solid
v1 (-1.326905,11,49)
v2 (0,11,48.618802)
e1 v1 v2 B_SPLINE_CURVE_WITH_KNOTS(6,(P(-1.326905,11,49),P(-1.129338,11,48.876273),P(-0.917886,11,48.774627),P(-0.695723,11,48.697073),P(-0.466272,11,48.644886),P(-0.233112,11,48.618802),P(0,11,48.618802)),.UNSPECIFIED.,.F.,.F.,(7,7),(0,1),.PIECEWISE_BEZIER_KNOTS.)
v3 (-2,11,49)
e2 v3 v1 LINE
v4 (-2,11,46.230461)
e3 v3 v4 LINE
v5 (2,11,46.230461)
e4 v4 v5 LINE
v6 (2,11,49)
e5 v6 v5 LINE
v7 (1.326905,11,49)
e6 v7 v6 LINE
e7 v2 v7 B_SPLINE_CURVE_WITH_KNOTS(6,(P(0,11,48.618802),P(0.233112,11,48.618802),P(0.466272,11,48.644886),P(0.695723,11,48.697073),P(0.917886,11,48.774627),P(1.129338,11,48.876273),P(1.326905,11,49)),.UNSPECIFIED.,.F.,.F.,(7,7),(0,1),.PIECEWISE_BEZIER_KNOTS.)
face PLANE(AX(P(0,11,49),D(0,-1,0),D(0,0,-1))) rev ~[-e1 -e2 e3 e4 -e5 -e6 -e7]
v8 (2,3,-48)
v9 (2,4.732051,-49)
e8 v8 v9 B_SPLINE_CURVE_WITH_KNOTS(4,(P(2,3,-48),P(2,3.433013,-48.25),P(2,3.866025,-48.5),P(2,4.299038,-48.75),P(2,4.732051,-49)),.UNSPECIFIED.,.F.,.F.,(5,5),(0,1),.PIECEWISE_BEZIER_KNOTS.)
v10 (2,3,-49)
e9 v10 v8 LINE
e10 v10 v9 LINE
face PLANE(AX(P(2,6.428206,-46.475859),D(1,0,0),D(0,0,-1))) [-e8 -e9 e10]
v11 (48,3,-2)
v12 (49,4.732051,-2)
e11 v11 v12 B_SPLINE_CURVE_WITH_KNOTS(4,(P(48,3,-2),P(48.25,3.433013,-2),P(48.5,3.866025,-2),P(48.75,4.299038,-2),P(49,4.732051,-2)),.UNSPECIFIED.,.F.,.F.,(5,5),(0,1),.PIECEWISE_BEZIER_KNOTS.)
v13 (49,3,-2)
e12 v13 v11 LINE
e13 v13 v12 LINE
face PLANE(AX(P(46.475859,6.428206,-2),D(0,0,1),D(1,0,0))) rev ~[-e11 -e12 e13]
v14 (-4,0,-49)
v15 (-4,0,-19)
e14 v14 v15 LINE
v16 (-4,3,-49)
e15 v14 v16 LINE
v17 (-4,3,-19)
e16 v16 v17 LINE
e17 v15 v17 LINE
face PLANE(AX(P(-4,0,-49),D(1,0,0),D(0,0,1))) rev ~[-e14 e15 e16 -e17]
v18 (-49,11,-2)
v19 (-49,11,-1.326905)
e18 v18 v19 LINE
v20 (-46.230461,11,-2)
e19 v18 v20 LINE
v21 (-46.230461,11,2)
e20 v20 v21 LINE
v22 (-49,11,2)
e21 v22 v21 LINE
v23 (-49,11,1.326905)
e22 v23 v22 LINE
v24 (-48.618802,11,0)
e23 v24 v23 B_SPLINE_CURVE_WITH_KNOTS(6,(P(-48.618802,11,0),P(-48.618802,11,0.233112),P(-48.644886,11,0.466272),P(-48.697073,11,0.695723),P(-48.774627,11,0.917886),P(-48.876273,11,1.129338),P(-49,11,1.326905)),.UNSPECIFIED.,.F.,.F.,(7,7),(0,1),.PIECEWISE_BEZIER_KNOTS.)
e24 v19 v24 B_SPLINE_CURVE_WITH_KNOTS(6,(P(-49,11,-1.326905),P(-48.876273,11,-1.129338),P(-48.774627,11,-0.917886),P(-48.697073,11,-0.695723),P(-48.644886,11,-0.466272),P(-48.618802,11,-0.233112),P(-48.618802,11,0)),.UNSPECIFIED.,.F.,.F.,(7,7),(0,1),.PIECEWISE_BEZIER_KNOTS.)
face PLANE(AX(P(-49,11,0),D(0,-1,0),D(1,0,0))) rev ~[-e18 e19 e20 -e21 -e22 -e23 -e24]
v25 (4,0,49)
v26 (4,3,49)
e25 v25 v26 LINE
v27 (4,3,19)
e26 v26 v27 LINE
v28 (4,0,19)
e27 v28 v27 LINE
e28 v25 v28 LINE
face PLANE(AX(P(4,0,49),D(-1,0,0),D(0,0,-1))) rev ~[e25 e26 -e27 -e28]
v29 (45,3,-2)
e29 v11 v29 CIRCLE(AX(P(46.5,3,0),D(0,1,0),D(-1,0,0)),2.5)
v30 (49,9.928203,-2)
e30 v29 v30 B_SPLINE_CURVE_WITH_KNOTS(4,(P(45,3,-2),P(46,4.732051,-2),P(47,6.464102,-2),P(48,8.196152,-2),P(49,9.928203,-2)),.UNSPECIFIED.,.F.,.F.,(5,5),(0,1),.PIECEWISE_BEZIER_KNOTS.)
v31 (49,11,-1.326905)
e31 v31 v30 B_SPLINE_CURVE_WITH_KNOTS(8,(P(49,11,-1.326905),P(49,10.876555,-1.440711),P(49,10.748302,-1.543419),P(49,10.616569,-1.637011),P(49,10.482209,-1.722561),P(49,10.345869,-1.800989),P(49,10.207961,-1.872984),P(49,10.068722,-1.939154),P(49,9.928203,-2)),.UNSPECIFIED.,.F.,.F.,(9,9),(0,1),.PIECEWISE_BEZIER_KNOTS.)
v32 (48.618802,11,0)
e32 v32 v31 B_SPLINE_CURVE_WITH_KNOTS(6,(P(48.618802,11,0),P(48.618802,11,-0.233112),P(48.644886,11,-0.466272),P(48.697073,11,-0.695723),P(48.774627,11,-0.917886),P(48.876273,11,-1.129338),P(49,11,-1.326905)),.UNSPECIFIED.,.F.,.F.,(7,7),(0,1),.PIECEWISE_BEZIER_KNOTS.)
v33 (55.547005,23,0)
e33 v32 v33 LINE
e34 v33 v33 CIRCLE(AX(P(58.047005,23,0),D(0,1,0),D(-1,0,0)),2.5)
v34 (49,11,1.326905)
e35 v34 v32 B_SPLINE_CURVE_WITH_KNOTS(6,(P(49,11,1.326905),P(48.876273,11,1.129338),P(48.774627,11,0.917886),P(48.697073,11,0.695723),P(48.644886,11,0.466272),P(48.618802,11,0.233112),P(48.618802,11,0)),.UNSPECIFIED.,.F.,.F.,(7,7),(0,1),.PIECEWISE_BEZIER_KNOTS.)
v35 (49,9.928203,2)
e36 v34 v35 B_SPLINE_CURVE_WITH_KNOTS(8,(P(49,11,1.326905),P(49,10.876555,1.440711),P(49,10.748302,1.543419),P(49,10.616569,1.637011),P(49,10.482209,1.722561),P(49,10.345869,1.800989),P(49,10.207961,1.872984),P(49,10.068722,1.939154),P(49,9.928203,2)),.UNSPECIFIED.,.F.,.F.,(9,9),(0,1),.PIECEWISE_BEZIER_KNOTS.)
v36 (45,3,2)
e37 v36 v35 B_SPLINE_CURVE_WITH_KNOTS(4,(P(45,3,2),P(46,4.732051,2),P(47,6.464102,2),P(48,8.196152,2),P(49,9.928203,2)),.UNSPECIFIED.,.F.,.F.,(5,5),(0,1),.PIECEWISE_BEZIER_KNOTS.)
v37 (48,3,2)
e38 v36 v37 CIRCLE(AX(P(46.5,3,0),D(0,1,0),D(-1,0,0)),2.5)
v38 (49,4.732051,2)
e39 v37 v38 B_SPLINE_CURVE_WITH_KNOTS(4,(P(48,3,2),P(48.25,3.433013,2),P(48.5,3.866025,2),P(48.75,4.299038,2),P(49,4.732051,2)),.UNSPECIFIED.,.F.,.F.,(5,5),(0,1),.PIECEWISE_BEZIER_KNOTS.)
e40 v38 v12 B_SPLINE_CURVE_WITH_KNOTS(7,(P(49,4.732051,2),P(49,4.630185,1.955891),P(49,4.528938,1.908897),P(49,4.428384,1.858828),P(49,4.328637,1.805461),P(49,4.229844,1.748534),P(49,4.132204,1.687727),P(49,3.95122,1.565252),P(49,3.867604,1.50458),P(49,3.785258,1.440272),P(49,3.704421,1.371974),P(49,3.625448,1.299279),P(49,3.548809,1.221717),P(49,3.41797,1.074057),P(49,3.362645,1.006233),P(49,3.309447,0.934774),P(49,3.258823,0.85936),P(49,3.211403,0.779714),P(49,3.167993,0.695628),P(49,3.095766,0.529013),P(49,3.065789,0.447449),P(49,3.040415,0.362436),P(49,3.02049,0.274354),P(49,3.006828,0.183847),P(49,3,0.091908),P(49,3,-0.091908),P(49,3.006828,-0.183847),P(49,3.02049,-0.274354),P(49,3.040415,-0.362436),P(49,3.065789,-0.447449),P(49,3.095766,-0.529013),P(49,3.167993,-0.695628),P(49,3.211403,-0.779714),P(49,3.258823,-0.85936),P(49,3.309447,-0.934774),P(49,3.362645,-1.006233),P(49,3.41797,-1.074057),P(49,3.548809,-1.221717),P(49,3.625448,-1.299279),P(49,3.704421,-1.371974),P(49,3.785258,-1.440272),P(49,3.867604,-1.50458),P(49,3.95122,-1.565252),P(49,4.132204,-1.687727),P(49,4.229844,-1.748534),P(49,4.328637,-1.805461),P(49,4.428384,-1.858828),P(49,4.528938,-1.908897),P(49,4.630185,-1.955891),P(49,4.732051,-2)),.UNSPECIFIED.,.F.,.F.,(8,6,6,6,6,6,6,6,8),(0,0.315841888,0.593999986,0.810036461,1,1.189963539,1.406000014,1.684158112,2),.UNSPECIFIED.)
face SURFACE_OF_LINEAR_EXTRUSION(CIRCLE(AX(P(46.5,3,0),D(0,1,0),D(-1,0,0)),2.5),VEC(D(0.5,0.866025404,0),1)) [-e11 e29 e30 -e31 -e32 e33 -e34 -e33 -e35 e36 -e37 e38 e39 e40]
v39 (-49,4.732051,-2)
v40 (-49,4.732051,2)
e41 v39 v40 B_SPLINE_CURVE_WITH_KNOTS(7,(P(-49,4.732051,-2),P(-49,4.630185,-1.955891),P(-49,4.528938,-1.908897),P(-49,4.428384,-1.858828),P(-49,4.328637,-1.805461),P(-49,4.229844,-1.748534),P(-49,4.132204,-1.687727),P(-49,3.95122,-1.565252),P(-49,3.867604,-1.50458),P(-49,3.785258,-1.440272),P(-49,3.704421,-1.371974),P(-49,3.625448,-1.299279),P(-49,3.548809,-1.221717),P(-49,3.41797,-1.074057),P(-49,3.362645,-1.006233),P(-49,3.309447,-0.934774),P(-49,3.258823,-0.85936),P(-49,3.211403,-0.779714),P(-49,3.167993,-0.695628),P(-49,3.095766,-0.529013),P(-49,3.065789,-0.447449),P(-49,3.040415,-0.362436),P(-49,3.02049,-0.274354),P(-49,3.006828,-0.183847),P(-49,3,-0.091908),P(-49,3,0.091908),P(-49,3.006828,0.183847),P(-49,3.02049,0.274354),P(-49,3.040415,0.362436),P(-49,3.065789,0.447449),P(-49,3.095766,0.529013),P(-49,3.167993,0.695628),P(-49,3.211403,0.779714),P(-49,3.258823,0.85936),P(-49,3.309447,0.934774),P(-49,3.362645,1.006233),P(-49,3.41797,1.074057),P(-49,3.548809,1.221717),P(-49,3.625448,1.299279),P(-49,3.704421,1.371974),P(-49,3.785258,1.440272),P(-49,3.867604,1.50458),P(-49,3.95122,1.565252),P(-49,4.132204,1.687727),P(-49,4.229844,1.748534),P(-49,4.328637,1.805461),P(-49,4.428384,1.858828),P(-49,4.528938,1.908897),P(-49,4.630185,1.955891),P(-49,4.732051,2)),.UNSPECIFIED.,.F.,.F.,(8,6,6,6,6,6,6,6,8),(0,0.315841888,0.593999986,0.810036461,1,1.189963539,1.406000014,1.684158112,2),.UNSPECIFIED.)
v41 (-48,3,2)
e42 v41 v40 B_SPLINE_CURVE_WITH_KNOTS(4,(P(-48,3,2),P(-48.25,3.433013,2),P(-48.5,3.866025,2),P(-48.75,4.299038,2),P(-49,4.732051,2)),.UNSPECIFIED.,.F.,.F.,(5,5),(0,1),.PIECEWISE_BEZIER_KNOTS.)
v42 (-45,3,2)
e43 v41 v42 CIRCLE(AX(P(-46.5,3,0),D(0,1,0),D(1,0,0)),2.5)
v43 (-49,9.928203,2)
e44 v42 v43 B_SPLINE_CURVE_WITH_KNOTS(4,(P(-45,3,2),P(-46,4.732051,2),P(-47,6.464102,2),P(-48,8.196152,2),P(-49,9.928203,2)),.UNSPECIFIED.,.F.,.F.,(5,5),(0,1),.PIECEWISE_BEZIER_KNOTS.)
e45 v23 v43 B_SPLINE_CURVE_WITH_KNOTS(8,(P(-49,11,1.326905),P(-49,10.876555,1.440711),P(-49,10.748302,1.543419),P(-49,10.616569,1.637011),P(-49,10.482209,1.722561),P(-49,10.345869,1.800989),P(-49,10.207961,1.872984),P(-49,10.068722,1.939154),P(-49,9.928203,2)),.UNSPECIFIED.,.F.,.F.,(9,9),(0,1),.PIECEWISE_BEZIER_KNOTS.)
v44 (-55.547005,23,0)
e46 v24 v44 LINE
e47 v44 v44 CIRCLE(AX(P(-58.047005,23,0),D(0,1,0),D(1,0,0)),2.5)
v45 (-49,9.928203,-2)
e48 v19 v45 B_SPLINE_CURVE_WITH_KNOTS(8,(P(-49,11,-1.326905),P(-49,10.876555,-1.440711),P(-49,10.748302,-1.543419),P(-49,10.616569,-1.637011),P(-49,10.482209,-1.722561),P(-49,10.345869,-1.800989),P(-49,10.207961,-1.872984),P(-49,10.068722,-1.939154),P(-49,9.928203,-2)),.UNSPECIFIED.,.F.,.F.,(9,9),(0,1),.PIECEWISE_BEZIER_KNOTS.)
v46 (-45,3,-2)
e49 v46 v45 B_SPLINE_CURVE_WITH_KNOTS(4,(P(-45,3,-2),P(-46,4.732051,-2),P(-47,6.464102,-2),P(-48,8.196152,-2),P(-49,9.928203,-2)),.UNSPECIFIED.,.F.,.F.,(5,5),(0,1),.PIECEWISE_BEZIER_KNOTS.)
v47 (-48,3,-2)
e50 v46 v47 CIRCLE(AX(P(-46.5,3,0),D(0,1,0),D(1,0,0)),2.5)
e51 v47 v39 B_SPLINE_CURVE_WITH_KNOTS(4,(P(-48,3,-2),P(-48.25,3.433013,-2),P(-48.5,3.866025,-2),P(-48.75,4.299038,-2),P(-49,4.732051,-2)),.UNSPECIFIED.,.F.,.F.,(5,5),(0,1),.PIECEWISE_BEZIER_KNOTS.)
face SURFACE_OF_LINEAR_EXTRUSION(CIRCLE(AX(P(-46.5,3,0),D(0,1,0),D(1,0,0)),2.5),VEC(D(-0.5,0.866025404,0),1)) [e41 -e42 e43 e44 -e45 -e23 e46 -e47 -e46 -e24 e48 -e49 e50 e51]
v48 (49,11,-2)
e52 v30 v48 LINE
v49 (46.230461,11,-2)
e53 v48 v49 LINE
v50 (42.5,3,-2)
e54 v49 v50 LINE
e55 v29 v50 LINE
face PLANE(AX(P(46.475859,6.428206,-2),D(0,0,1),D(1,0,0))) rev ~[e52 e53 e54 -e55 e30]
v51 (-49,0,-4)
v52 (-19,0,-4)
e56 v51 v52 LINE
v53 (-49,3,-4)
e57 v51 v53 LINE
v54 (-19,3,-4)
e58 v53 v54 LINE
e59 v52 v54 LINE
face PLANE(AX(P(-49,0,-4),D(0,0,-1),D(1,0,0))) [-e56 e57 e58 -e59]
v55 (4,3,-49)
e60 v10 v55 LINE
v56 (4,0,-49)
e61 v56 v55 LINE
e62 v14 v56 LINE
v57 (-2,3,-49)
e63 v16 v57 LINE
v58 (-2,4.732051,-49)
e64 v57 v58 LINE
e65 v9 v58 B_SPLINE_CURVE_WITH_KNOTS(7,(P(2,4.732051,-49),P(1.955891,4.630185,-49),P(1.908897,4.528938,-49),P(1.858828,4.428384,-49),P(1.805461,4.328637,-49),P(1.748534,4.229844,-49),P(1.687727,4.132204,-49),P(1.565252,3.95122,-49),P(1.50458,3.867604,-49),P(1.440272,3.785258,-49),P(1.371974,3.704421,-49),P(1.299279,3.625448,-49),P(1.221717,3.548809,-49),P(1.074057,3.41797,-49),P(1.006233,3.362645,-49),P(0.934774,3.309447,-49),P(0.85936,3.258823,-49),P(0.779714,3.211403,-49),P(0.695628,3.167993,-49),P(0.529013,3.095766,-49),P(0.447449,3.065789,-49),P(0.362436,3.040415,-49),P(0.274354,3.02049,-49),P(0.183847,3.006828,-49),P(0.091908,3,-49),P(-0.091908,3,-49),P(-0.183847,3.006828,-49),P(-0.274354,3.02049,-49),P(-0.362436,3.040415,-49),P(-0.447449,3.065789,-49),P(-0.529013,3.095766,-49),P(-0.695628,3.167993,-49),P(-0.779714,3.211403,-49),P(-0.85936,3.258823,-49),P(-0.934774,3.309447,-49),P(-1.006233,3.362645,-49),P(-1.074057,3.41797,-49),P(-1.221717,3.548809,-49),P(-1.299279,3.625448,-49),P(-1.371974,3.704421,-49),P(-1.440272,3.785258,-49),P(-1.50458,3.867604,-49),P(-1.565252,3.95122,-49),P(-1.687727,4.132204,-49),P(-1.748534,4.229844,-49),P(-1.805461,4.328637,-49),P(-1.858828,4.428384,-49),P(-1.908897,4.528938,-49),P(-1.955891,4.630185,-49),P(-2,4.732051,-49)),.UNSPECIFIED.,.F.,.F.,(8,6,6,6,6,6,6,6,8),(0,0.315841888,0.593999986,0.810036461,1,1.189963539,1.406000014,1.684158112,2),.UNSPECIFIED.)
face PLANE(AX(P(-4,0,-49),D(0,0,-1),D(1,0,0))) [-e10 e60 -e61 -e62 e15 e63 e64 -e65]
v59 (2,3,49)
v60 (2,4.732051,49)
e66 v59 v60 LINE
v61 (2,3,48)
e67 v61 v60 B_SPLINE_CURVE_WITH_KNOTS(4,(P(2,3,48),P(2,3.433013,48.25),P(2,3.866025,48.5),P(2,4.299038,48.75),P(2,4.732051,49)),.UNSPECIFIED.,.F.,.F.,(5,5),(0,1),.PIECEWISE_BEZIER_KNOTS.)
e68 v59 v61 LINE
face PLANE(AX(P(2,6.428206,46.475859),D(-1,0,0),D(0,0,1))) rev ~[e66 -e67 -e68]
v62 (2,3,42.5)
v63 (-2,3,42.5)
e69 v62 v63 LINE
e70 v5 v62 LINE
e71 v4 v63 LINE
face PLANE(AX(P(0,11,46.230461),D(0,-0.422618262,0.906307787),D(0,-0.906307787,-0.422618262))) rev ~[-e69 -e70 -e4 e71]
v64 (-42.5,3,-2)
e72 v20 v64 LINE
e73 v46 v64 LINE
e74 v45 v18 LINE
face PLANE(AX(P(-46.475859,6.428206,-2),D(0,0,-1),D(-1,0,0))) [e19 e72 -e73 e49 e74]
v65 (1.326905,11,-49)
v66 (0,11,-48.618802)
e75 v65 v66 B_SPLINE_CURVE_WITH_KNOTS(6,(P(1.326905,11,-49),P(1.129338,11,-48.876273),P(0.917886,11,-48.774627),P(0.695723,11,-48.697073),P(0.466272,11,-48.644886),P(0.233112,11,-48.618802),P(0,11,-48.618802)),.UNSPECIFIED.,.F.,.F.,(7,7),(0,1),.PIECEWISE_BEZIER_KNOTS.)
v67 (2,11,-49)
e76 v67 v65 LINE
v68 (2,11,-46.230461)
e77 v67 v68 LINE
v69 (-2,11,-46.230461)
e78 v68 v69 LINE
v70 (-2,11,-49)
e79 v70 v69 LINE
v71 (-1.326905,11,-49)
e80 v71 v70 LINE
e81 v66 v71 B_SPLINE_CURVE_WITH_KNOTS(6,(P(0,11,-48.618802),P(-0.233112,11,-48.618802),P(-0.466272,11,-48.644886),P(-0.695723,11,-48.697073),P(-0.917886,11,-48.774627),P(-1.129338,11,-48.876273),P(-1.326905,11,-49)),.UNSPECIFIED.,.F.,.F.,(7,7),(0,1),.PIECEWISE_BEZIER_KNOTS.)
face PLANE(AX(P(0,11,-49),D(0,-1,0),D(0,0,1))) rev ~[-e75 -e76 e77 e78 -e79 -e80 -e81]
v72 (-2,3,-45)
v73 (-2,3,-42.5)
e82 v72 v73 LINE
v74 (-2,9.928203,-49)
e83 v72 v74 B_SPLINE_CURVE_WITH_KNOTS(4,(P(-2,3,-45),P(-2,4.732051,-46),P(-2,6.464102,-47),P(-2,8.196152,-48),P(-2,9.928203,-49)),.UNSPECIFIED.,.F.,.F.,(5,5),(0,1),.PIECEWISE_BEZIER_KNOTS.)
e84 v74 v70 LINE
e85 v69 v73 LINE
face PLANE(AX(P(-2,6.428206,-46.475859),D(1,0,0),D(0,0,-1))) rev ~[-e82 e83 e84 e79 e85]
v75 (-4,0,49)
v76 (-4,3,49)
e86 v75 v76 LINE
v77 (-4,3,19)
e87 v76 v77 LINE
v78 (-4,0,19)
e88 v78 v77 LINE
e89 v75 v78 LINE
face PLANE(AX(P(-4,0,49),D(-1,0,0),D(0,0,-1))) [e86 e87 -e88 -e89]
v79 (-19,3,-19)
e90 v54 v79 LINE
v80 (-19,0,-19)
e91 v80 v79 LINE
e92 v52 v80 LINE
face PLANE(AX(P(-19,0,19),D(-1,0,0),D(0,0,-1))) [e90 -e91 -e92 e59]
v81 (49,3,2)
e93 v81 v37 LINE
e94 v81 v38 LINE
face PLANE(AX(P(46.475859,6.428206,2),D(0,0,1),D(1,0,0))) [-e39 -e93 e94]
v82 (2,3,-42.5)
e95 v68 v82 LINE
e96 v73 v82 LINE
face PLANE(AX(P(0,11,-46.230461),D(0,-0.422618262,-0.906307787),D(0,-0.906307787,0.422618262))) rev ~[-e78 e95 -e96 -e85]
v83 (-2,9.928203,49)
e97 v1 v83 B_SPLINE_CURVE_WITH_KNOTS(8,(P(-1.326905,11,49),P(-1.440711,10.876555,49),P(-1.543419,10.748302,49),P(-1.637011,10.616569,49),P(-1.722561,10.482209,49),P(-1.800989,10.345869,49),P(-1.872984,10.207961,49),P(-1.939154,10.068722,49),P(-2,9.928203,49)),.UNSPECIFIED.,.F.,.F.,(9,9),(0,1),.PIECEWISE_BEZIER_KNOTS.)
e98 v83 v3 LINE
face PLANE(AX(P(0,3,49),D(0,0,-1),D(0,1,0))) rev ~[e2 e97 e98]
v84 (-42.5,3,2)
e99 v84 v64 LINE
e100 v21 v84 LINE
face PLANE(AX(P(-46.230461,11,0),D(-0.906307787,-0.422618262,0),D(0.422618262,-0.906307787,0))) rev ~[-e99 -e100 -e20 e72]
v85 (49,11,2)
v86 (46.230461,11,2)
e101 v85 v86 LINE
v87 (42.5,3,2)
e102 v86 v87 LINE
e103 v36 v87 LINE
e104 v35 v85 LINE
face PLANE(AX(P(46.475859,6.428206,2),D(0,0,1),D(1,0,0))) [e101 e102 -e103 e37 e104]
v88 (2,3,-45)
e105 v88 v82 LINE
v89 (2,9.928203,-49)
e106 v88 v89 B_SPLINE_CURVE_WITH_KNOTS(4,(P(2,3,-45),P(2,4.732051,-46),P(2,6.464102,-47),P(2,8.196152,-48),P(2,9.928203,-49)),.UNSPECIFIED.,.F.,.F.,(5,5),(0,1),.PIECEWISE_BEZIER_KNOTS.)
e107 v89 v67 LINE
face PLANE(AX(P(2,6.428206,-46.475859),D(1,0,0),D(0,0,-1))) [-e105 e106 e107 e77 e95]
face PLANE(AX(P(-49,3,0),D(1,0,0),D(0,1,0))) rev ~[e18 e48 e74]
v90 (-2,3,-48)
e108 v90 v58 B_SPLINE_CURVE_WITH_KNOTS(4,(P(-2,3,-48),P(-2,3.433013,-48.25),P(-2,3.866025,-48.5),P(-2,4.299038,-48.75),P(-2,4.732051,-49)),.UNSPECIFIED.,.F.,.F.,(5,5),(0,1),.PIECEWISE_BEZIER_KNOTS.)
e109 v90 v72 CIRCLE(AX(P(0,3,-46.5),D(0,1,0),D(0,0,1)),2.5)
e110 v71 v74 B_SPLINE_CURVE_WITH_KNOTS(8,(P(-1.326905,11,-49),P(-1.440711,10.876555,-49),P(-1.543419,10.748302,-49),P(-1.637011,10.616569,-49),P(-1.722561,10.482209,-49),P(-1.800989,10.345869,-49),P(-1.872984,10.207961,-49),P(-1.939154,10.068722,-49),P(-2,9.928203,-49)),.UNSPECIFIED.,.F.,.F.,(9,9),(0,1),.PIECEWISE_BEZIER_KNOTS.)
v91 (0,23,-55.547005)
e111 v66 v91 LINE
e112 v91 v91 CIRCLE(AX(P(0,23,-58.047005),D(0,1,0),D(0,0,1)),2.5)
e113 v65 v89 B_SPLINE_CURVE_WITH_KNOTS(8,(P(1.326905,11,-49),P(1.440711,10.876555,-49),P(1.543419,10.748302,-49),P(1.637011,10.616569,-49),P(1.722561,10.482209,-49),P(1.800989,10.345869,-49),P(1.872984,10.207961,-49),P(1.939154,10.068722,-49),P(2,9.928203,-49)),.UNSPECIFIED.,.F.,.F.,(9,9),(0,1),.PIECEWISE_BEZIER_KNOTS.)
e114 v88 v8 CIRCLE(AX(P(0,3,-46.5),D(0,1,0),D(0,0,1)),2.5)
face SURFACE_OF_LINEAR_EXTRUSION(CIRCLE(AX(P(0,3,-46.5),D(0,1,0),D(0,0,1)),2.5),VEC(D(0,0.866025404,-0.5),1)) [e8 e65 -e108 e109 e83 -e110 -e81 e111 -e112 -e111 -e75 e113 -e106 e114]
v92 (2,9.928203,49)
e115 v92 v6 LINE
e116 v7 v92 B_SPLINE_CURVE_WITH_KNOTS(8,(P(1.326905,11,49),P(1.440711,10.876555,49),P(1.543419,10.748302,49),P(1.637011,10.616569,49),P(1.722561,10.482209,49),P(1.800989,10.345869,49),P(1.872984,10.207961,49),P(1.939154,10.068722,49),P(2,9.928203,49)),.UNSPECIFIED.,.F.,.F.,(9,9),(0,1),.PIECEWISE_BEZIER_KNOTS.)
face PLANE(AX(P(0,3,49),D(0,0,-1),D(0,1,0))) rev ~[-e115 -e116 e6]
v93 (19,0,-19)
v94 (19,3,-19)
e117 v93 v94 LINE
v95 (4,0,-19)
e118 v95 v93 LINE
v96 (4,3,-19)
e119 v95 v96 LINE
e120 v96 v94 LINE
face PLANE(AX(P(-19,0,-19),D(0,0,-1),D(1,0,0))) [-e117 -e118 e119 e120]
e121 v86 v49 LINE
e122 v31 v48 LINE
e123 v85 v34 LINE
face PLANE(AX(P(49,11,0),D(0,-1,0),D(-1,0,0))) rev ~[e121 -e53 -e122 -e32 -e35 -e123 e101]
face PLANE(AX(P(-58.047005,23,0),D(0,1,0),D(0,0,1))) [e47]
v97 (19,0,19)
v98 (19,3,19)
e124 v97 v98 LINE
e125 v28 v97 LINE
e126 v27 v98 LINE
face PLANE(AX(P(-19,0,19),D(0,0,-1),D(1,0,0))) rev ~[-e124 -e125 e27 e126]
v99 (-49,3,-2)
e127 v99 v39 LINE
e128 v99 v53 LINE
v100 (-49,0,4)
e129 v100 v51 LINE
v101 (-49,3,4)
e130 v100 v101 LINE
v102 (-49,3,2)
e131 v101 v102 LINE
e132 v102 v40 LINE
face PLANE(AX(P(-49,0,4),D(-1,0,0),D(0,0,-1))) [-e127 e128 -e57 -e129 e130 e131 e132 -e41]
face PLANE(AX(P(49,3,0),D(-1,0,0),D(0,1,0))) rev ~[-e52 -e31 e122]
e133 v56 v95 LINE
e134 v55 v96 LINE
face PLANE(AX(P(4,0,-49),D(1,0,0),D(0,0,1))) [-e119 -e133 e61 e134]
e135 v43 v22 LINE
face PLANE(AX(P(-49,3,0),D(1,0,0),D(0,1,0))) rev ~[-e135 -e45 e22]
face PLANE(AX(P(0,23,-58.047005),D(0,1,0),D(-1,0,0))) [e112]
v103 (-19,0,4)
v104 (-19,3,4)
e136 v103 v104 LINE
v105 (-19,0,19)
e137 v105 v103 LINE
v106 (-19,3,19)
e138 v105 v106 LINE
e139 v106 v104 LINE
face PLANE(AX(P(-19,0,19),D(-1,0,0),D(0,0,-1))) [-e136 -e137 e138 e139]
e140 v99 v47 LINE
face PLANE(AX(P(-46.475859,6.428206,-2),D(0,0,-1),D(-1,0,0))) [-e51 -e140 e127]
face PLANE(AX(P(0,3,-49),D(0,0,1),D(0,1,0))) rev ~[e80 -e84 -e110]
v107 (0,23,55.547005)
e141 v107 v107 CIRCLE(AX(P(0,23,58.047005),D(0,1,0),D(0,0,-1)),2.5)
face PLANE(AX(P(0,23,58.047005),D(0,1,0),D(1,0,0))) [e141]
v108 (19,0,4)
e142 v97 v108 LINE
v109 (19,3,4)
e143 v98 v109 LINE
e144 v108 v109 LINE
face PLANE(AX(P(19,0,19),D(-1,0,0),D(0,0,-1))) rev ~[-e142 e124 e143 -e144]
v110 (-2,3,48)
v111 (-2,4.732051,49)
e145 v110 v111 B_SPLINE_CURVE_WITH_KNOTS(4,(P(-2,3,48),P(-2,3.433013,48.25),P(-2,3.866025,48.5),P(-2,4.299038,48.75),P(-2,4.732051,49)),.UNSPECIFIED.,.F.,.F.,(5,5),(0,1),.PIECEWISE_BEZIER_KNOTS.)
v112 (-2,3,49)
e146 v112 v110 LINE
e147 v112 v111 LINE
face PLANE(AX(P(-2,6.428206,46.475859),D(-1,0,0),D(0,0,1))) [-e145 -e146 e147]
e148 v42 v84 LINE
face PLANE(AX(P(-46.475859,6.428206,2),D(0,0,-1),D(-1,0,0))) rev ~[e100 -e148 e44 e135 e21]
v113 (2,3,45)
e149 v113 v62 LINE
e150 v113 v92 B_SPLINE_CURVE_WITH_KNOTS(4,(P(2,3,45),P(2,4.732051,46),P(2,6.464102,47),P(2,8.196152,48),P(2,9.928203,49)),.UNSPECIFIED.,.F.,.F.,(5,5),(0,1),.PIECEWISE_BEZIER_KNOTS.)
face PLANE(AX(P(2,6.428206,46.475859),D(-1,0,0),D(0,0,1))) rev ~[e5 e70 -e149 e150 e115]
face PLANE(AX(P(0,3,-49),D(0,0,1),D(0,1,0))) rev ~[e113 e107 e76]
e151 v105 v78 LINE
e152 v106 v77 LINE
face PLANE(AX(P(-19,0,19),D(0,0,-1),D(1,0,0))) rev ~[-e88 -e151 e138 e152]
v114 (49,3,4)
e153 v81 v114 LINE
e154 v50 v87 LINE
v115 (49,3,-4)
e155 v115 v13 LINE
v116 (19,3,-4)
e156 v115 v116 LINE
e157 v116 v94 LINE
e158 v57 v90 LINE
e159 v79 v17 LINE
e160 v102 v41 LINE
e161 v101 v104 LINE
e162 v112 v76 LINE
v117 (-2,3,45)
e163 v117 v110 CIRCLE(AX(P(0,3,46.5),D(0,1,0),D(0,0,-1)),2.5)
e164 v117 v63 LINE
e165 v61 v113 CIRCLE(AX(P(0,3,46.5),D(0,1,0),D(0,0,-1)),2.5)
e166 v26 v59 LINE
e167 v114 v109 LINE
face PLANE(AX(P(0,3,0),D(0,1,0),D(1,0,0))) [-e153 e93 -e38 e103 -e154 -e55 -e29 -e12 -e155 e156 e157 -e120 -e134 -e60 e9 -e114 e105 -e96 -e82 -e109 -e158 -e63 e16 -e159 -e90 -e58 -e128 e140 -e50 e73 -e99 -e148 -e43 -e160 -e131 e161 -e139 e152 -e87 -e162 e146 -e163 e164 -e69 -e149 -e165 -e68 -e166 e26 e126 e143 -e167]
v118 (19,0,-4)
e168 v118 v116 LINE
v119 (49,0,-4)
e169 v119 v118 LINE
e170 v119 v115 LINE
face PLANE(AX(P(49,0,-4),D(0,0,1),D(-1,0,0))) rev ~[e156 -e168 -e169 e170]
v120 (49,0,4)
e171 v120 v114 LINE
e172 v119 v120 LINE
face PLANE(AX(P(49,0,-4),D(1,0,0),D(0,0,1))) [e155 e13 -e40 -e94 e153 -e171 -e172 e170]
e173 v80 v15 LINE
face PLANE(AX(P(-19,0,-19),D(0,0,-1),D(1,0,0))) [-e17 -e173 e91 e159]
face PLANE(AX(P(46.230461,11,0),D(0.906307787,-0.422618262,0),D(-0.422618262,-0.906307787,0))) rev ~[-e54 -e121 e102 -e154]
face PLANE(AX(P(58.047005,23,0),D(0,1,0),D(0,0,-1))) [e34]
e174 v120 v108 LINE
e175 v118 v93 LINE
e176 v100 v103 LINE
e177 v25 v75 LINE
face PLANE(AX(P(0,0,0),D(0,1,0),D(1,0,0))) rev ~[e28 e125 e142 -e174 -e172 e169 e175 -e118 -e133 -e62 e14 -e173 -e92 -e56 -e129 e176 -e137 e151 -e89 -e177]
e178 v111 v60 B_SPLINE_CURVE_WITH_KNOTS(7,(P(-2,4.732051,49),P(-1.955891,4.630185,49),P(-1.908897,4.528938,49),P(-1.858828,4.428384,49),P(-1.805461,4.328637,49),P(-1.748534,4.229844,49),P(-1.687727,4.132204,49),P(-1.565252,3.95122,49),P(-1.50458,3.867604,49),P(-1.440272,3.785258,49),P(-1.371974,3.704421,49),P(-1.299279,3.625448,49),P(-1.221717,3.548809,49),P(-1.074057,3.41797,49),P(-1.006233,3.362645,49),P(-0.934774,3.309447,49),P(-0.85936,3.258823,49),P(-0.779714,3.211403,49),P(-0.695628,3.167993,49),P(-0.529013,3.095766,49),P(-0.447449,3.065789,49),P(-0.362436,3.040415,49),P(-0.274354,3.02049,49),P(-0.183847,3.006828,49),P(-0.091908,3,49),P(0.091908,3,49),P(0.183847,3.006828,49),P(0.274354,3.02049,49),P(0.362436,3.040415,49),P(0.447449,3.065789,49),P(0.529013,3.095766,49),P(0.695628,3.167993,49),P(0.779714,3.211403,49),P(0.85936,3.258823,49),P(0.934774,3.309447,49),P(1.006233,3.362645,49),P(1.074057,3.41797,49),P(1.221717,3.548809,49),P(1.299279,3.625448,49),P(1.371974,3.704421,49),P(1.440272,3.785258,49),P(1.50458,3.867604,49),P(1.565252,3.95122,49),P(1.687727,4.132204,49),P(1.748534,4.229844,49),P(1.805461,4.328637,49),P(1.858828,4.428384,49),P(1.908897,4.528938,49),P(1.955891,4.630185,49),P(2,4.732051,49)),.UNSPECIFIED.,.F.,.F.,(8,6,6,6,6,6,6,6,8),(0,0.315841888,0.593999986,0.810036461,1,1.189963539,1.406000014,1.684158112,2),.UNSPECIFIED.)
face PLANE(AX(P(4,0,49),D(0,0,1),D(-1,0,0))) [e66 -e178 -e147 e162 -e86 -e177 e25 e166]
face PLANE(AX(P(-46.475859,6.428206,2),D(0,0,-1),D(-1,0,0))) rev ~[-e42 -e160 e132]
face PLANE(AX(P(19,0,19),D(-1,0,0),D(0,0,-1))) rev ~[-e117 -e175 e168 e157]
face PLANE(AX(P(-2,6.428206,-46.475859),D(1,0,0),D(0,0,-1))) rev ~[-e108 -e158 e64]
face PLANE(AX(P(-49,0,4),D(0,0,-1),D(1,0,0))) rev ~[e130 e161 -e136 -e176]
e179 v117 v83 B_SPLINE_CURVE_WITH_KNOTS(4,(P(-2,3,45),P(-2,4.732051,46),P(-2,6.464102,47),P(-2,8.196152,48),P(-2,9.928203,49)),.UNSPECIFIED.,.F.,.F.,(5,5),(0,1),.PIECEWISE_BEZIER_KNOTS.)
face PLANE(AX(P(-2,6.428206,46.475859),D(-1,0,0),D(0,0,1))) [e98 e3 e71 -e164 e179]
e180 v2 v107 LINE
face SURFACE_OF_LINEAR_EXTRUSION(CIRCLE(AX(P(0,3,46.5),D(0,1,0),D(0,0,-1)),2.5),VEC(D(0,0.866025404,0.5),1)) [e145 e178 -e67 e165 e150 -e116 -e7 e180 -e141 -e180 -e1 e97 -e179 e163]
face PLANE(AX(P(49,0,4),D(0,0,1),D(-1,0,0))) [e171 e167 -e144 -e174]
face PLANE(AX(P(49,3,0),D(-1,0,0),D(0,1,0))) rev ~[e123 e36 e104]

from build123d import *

# Parameters (mm, degrees)
SKETCH1_W           = 38
SKETCH1_H           = 38
BOSS_EXTRUDE1_DEPTH = 3
SKETCH2_W           = 30
SKETCH2_H           = 8
BOSS_EXTRUDE2_DEPTH = 3
SKETCH8_R           = 2.5
BOSS_EXTRUDE5_DEPTH = 2
CIRPATTERN1_COUNT   = 4


with BuildPart() as part:
    # Sketch1 → Boss-Extrude1 (new body)
    with BuildSketch(Plane(origin=(0, 0, 0), x_dir=(1, 0, 0), z_dir=(0, 1, 0))):
        Rectangle(SKETCH1_W, SKETCH1_H)
    extrude(amount=BOSS_EXTRUDE1_DEPTH)

    # Sketch2 → Boss-Extrude2 (add)
    with BuildSketch(Plane(origin=(0, 0, 0), x_dir=(1, 0, 0), z_dir=(0, 1, 0))):
        with Locations((-34, 0)):
            Rectangle(SKETCH2_W, SKETCH2_H)
    boss_extrude2 = extrude(amount=BOSS_EXTRUDE2_DEPTH)

    # Sweep1: sweep along a path in Sketch7
    with BuildLine(Plane.XY) as sweep1_path:
        Line((-46.5, 3), (-58.047005384, 23))
    # Sketch8 → Sweep1 (sweep)
    with BuildSketch(Plane(origin=(0, 3, 0), x_dir=(1, 0, 0), z_dir=(0, 1, 0))):
        with Locations((-46.5, 0)):
            Circle(SKETCH8_R)
    sweep1 = sweep(path=sweep1_path.line)

    # Sketch6 → Boss-Extrude5 (add, symmetric)
    with BuildSketch(Plane.XY):
        Polygon((-46.230461265, 11), (-42.5, 3), (-46.5, 3), (-49, 3), (-49, 11), align=None)
    boss_extrude5 = extrude(amount=BOSS_EXTRUDE5_DEPTH, both=True)

    # CirPattern1: Boss-Extrude2, Sweep1, Boss-Extrude5 ×4 about axis
    cirpattern1_axis = Axis((0, 0, 0), (0, 1, 0))
    for i in range(1, CIRPATTERN1_COUNT):
        add(boss_extrude2.rotate(cirpattern1_axis, i * 360 / CIRPATTERN1_COUNT))
        add(sweep1.rotate(cirpattern1_axis, i * 360 / CIRPATTERN1_COUNT))
        add(boss_extrude5.rotate(cirpattern1_axis, i * 360 / CIRPATTERN1_COUNT))


solid = part.part
